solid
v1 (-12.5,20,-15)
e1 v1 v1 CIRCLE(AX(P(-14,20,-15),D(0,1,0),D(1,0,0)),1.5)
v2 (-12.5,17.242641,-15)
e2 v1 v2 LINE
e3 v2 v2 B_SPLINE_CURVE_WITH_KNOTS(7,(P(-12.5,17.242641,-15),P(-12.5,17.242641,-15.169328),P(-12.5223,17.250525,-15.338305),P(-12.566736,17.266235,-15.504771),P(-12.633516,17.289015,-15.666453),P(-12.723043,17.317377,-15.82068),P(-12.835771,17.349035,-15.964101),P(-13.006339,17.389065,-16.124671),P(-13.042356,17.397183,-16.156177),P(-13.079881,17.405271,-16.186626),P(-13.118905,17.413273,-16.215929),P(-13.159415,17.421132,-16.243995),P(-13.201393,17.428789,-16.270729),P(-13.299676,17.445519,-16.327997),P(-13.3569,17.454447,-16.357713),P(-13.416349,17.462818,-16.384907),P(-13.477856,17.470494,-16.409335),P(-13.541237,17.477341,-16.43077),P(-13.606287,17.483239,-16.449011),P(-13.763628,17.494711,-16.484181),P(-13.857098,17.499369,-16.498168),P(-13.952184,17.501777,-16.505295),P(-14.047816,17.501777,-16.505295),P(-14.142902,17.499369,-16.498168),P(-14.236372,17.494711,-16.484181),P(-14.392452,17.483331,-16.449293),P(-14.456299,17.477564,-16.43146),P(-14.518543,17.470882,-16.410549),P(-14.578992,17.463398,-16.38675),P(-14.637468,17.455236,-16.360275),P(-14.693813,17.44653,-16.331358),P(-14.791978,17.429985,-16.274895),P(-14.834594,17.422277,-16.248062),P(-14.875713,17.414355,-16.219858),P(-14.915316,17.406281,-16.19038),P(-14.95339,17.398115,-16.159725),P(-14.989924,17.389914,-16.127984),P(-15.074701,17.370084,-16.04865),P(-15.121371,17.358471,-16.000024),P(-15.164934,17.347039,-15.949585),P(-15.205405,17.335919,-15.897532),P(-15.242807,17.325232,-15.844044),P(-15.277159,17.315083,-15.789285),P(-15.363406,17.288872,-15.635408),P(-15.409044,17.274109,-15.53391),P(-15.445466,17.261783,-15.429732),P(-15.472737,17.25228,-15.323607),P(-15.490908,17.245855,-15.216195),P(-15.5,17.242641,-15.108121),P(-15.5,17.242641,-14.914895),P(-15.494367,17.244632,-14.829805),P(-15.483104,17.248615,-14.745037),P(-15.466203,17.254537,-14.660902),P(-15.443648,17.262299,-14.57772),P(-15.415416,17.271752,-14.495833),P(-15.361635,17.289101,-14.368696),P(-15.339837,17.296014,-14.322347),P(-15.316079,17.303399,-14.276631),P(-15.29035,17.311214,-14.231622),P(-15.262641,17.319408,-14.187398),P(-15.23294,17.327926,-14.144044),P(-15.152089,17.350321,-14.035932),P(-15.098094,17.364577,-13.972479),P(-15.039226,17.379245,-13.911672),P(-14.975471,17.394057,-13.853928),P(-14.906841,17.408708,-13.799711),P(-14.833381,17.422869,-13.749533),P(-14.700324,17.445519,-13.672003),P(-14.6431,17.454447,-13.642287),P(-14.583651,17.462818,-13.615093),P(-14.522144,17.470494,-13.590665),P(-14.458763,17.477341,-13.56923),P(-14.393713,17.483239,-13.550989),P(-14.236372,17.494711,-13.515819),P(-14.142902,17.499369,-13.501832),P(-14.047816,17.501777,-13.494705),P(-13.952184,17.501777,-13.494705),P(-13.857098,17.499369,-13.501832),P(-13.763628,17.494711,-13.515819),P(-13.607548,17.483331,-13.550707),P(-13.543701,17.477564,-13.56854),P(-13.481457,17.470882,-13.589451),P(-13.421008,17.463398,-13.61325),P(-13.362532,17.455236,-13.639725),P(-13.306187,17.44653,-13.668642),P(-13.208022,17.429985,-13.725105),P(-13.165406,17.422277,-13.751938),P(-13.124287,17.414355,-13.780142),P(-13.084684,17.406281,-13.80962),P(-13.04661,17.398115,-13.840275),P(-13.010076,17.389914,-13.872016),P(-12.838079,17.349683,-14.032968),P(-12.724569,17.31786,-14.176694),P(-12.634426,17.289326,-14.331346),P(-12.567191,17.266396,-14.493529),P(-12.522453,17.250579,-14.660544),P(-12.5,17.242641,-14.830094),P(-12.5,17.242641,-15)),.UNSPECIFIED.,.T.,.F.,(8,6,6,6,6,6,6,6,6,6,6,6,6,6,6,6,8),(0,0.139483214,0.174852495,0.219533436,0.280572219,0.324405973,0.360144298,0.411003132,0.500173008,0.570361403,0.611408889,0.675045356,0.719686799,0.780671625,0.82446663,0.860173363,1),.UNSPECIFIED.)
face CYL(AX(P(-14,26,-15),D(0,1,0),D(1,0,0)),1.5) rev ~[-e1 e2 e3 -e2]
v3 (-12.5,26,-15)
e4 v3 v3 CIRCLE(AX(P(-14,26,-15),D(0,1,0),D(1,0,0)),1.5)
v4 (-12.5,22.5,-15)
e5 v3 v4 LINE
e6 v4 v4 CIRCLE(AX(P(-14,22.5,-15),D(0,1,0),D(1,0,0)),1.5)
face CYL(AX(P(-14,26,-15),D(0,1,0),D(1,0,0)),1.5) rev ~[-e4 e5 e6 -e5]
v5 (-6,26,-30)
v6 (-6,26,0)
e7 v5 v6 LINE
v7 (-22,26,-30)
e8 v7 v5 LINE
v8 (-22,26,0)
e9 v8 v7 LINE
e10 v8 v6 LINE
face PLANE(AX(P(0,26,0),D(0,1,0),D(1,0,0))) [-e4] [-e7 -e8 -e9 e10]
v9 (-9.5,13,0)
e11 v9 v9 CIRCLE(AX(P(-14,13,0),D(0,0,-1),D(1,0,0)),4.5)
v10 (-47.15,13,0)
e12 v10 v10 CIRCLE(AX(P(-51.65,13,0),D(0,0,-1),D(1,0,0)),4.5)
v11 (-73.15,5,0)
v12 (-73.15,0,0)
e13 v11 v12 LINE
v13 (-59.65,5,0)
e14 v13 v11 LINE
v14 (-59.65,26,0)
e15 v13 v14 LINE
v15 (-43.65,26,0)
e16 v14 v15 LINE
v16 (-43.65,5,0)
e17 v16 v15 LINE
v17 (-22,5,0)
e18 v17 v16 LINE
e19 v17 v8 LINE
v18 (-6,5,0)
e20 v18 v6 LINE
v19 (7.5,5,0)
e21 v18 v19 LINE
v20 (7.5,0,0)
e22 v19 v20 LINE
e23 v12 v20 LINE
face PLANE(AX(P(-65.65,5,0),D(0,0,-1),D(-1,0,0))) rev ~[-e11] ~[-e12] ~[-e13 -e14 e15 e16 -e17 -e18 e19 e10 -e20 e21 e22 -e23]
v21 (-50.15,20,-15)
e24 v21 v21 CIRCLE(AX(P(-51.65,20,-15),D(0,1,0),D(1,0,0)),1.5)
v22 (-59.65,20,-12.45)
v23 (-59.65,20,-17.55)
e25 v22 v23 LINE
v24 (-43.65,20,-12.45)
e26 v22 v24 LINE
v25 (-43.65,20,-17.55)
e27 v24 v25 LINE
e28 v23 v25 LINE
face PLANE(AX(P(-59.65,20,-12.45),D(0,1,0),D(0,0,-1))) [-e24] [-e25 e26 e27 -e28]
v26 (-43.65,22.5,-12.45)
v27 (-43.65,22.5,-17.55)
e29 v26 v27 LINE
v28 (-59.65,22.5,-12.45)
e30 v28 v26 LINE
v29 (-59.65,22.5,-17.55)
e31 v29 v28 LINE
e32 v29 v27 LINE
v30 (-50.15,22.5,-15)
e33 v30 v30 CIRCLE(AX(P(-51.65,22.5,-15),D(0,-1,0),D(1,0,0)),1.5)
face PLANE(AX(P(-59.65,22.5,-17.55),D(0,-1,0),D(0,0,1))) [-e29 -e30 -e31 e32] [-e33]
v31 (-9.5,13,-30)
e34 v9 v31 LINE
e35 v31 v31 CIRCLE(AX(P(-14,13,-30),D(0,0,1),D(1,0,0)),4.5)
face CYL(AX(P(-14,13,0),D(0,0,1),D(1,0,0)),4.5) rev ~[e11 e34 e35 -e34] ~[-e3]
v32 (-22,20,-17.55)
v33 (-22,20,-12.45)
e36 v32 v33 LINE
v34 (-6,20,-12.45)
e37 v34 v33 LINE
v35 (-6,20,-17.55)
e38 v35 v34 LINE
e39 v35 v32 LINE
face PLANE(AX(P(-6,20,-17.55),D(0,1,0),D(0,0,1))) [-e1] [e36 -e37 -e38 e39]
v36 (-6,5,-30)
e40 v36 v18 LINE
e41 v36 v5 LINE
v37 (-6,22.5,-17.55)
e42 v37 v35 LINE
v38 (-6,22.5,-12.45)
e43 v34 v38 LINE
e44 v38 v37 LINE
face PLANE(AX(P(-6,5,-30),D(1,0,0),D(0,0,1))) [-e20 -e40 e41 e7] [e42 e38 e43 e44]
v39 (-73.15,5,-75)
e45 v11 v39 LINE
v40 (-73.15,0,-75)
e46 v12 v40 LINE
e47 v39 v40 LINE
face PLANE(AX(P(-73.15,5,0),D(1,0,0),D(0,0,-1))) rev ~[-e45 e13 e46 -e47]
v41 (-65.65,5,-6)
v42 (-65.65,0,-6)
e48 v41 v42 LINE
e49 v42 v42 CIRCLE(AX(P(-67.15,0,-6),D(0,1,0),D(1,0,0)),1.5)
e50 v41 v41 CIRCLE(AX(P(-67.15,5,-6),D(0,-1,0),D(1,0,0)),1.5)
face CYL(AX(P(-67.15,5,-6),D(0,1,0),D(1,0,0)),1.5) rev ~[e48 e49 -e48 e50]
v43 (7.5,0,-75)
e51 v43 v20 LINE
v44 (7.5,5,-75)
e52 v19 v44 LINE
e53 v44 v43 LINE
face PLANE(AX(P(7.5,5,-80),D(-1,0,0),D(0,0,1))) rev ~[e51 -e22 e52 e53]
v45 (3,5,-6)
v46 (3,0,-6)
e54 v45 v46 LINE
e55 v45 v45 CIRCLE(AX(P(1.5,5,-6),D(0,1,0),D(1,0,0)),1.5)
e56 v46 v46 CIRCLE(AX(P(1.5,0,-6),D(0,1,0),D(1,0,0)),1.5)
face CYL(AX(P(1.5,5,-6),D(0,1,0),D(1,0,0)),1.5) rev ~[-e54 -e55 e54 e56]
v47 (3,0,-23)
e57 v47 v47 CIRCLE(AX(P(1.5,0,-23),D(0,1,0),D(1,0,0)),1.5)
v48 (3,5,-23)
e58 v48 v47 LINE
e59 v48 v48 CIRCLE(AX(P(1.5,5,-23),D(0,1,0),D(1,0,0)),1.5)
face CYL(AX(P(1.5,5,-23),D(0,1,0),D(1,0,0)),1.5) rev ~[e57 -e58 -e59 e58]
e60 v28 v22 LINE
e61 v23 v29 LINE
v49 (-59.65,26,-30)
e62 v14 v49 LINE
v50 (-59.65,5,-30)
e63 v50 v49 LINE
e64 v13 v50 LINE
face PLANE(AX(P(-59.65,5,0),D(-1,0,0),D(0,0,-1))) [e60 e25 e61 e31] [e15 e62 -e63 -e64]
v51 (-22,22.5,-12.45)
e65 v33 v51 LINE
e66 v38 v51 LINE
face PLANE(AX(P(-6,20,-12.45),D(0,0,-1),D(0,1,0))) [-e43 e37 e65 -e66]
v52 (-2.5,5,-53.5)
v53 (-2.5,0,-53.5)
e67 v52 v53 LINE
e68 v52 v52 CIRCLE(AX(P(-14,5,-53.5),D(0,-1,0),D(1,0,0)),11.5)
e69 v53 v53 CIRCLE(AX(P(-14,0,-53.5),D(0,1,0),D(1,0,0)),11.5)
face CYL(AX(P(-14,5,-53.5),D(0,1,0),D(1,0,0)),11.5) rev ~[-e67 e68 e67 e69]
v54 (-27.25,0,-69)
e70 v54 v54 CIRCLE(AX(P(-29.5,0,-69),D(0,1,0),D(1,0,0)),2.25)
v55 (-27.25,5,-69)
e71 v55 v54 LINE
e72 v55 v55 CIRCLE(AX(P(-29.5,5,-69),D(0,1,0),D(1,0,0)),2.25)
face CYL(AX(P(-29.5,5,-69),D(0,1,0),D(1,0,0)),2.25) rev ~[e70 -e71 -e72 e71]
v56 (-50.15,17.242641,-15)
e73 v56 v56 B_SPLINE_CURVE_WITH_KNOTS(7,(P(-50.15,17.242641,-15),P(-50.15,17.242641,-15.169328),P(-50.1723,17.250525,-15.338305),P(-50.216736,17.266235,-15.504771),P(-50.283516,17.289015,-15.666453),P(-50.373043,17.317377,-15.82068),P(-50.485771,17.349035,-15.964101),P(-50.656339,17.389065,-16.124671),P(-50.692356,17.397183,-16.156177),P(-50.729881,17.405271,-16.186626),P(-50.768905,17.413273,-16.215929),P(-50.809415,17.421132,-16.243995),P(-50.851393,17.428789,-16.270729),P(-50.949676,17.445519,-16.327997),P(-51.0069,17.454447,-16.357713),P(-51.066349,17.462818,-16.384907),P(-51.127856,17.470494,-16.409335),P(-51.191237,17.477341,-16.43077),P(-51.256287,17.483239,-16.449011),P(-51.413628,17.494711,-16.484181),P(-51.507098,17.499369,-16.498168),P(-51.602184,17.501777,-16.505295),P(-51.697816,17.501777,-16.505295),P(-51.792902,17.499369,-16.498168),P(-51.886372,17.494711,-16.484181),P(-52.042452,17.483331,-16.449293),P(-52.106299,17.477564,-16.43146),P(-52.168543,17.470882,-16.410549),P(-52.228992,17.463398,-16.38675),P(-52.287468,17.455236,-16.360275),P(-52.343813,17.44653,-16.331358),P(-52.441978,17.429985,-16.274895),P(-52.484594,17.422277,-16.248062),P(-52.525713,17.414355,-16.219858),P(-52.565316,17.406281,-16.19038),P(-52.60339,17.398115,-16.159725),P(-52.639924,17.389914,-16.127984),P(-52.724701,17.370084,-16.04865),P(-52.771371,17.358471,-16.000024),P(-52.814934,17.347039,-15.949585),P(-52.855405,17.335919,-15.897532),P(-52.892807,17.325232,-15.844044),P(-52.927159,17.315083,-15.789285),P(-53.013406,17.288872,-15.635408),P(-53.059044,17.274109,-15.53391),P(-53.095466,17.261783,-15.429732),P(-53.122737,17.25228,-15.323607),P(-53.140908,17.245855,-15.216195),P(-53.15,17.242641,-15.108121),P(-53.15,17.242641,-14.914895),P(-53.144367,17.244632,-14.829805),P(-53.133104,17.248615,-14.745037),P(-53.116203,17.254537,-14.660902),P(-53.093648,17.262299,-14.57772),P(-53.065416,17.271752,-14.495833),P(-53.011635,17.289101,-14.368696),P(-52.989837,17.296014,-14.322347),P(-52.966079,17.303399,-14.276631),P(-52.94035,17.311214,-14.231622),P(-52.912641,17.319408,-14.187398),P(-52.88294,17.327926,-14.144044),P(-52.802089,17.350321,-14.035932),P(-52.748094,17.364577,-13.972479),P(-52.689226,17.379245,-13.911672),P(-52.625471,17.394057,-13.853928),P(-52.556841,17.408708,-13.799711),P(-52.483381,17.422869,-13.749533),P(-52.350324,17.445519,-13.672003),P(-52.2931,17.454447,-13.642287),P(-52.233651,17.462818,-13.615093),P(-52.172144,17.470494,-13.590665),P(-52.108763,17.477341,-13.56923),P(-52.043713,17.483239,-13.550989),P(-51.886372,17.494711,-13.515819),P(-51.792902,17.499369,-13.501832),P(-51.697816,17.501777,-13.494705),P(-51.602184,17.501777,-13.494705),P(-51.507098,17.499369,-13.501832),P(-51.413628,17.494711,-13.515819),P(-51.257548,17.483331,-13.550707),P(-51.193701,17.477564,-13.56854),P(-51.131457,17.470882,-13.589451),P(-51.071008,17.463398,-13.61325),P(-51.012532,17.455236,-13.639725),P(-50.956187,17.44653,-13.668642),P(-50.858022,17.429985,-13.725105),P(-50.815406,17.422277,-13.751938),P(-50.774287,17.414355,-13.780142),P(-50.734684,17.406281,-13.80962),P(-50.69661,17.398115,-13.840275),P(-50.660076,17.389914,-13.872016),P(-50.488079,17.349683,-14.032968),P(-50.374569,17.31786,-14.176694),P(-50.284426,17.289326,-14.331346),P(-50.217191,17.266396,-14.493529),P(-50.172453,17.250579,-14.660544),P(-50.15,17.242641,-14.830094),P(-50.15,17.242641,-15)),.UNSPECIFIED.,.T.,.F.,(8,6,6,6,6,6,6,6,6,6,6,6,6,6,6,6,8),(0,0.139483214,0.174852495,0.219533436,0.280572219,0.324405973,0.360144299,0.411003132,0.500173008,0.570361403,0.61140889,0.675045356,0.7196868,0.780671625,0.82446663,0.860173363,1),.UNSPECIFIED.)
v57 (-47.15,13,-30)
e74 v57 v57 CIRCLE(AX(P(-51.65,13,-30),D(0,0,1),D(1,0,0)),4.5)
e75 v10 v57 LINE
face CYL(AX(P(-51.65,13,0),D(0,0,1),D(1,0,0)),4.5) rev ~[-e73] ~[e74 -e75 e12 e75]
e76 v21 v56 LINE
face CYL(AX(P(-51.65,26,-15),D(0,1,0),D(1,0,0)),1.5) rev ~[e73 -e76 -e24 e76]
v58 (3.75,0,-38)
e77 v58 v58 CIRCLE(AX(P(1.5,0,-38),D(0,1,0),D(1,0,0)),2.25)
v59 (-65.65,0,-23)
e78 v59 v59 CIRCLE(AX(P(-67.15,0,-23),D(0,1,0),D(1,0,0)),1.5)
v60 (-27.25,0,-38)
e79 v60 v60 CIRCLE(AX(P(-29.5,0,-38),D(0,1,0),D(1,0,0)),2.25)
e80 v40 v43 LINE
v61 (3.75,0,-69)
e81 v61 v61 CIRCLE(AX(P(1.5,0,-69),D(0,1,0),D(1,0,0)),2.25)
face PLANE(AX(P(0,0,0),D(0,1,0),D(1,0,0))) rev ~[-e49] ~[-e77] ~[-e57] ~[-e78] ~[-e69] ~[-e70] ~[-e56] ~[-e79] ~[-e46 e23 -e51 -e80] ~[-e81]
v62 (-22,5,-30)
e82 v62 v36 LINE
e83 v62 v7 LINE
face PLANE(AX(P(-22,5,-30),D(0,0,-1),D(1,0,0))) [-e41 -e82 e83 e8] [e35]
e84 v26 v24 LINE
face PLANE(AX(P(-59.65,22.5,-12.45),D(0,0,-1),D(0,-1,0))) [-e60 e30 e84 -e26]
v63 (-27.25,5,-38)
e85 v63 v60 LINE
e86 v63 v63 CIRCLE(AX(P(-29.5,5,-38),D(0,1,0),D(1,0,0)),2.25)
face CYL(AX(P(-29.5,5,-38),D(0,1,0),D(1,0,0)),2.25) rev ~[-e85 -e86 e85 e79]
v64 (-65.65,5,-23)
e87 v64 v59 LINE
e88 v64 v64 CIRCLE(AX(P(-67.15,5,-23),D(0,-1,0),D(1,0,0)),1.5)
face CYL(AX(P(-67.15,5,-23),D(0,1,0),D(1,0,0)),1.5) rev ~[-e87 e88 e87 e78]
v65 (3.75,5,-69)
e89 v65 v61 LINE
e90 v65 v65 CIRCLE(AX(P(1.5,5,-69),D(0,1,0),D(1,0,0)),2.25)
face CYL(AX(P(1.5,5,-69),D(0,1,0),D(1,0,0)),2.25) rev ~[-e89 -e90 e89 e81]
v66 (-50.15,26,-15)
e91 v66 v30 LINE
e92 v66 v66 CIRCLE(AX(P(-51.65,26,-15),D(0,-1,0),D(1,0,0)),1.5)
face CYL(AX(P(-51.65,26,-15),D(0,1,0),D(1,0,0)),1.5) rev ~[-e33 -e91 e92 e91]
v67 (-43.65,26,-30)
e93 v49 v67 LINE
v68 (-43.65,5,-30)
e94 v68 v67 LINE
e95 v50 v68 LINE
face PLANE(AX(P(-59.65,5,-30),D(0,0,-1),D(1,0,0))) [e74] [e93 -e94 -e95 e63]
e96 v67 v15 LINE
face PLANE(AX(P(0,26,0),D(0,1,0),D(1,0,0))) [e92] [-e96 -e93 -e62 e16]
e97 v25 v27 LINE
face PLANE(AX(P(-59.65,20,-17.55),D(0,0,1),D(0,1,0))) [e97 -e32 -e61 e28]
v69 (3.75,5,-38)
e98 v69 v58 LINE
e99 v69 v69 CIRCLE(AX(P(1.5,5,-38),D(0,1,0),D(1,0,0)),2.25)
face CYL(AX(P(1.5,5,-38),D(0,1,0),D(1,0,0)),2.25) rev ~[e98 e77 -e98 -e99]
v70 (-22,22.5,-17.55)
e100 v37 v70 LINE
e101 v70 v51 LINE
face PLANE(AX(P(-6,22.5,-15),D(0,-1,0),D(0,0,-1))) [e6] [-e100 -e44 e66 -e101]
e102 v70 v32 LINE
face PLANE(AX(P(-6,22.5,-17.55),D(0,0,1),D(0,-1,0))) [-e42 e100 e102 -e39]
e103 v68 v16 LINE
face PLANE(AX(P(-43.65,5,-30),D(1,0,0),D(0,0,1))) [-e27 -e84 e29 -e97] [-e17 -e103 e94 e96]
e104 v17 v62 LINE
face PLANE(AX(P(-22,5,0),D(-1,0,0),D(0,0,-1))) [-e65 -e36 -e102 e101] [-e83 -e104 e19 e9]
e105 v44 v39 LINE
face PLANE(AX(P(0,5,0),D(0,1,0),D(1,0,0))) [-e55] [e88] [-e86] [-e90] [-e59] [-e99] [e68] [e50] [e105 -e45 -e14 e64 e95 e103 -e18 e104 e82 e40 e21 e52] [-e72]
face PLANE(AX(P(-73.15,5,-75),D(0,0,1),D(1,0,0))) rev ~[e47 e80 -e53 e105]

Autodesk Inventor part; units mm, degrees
ref_plane "YZ Plane" through (0, 0, 0) normal (1, 0, 0) x (0, 1, 0)
ref_plane "XZ Plane" through (0, 0, 0) normal (0, 1, 0) x (-1, 0, 0)
ref_plane "XY Plane" through (0, 0, 0) normal (0, 0, 1) x (1, 0, 0)
sketch "Skizze1" plane through (0, 0, 0) normal (0, 1, 0) x (-1, 0, 0)
  line L0 (0, 0) -> (65.65, 0)
  line L1 (65.65, 0) -> (65.65, -80)
  line L2 (65.65, -80) -> (0, -80)
  line L3 (0, -80) -> (0, 0)
  dimension "d0" = 65.65
  dimension "d1" = 80
extrude "Extrusion1" add sketch "Skizze1" along normal blind 5
sketch "Skizze2" plane through (0, 5, 0) normal (0, 1, 0) x (1, 0, 0)
  line L0 (-65.65, 80) -> (-65.65, 0) projected
  line L1 (-65.65, 0) -> (0, 0) projected
  line L2 (-65.65, 0) -> (-59.65, 0) construction
  line L3 (-59.65, 0) -> (-59.65, 30)
  line L4 (-59.65, 30) -> (-43.65, 30)
  line L5 (-43.65, 30) -> (-43.65, 0)
  line L6 (-43.65, 0) -> (-59.65, 0)
  line L7 (-22, 0) -> (-22, 30)
  line L8 (-22, 30) -> (-6, 30)
  line L9 (-6, 30) -> (-6, 0)
  line L10 (-6, 0) -> (-22, 0)
  dimension "d4" = 6
  dimension "d6" = 30
  dimension "d7" = 16
  dimension "d8" = 90
  dimension "d9" = 16
  dimension "d10" = 21.65
  dimension "d11" = 30
  dimension "d12" = 16
  dimension "d13" = 90
  dimension "d14" = 30
  dimension "d15" = 90
extrude "Extrusion2" add sketch "Skizze2" along normal blind 21 contours L3 L4 L5 L1
sketch "Skizze3" plane through (0, 5, 0) normal (0, 1, 0) x (1, 0, 0)
  line L0 (-43.65, 0) -> (0, 0) projected
  line L1 (-43.65, 0) -> (-22, 0)
  line L2 (-22, 0) -> (-22, 30)
  line L3 (-22, 30) -> (-6, 30)
  line L4 (-6, 30) -> (-6, 0)
  line L5 (-6, 0) -> (-22, 0)
  dimension "d18" = 21.65
  dimension "d19" = 30
  dimension "d21" = 16
  dimension "d22" = 16
extrude "Extrusion3" add sketch "Skizze3" along normal blind 21
sketch "Skizze4" plane through (0, 5, 0) normal (0, 1, 0) x (1, 0, 0)
  line L0 (-65.65, 0) -> (0, 0) projected
  line L1 (-5.9719, 0) -> (14.5281, 0)
  line L2 (14.5281, 0) -> (14.5281, 80)
  line L3 (0, 0) -> (0, 80) projected
  line L4 (14.5281, 80) -> (0, 80)
  line L5 (0, 80) -> (0, 0)
  dimension "d25" = 20.5
  dimension "d26" = 80
  dimension "d27" = 90
extrude "Extrusion4" add sketch "Skizze4" against normal blind 5
sketch "Skizze5" plane through (0, 5, 0) normal (0, 1, 0) x (1, 0, 0)
  line L0 (-22, 30) -> (-6, 30) projected
  line L1 (-22, 30) -> (-14, 30)
  line L2 (-14, 30) -> (-14, 38)
  line L3 (-14, 38) -> (-29.5, 38)
  circle A0 centre (-29.5, 38) radius 1
  point P0 (0, 0)
  dimension "d30" = 8
  dimension "d31" = 8
  dimension "d32" = 15.5
  dimension "d33" = 2
extrude "Extrusion5" cut sketch "Skizze5" against normal blind 5
sketch "Skizze6" plane through (0, 5, 0) normal (0, 1, 0) x (1, 0, 0)
  circle A0 centre (-29.5, 38) radius 1 projected
  line L0 (-29.5, 38) -> (1.5, 38)
  line L1 (-29.5, 38) -> (1.5, 38) construction
  circle A1 centre (1.5, 38) radius 1
  point P0 (0, 0)
  dimension "d36" = 31
  dimension "d37" = 0
  dimension "d38" = 2
extrude "Extrusion6" cut sketch "Skizze6" against normal blind 5 contours A1
sketch "Skizze7" plane through (0, 5, 0) normal (0, 1, 0) x (1, 0, 0)
  circle A0 centre (1.5, 38) radius 1 projected
  line L0 (1.5, 38) -> (1.5, 69)
  circle A1 centre (1.5, 69) radius 1
  point P0 (0, 0)
  dimension "d41" = 31
  dimension "d42" = 2
extrude "Extrusion7" cut sketch "Skizze7" against normal blind 5 contours A1
sketch "Skizze8" plane through (0, 5, 0) normal (0, 1, 0) x (1, 0, 0)
  circle A0 centre (-29.5, 38) radius 1 projected
  line L0 (-29.5, 38) -> (-29.5, 69)
  circle A1 centre (-29.5, 69) radius 1
  point P0 (0, 0)
  dimension "d45" = 31
  dimension "d46" = 2
extrude "Extrusion8" cut sketch "Skizze8" against normal blind 5 contours A1
sketch "Skizze9" plane through (0, 5, 0) normal (0, 1, 0) x (1, 0, 0)
  circle A0 centre (1.5, 38) radius 1 projected
  line L0 (1.5, 38) -> (7.5, 38)
  line L1 (14.5281, 80) -> (-65.65, 80) projected
  line L2 (-65.65, 0) -> (14.5281, 0) projected
  line L3 (14.5281, 0) -> (14.5281, 80) projected
  line L4 (7.5, 38) -> (14.5281, 38)
  line L5 (14.5281, 38) -> (14.5281, 80)
  line L6 (14.5281, 80) -> (7.5, 80)
  line L7 (7.5, 80) -> (7.5, 38)
  point P0 (0, 0)
  dimension "d49" = 6
extrude "Extrusion9" cut sketch "Skizze9" against normal blind 5 contours L7 L1 L3 L4
sketch "Skizze10" plane through (0, 5, 0) normal (0, 1, 0) x (1, 0, 0)
  line L0 (7.5, 38) -> (7.5, 80) projected
  line L1 (14.5281, 0) -> (14.5281, 38) projected
  line L2 (7.5, 38) -> (14.5281, 38)
  line L3 (14.5281, 38) -> (14.5281, 0)
  line L4 (14.5281, 0) -> (7.5, 0)
  line L5 (7.5, 0) -> (7.5, 38)
  point P0 (0, 0)
extrude "Extrusion10" cut sketch "Skizze10" against normal blind 5
sketch "Skizze11" plane through (0, 5, 0) normal (0, 1, 0) x (1, 0, 0)
  circle A0 centre (1.5, 69) radius 1 projected
  line L0 (1.5, 69) -> (1.5, 75)
  line L1 (1.5, 75) -> (7.5, 75)
  line L2 (7.5, 0) -> (7.5, 80) projected
  line L3 (7.5, 80) -> (1.5, 80)
  line L4 (7.5, 80) -> (-65.65, 80) projected
  line L5 (1.5, 75) -> (1.5, 80)
  point P0 (0, 0)
  dimension "d54" = 6
extrude "Extrusion11" cut sketch "Skizze11" against normal blind 5 contours L5 L3 L2 L1
sketch "Skizze12" plane through (0, 5, 0) normal (0, 1, 0) x (1, 0, 0)
  line L0 (1.5, 80) -> (-65.65, 80) projected
  line L1 (1.5, 75) -> (-65.65, 75)
  line L2 (-65.65, 75) -> (-65.65, 80)
  line L3 (-65.65, 80) -> (1.5, 80)
  line L4 (1.5, 80) -> (1.5, 75)
  point P0 (0, 0)
extrude "Extrusion12" cut sketch "Skizze12" against normal blind 5
sketch "Skizze13" plane through (0, 5, 0) normal (0, 1, 0) x (1, 0, 0)
  circle A0 centre (1.5, 38) radius 1 projected
  line L0 (1.5, 38) -> (1.5, 23)
  circle A1 centre (1.5, 23) radius 1
  point P0 (0, 0)
  dimension "d59" = 15
  dimension "d60" = 2
extrude "Extrusion13" cut sketch "Skizze13" against normal blind 5 contours A1
sketch "Skizze14" plane through (0, 5, 0) normal (0, 1, 0) x (1, 0, 0)
  circle A0 centre (1.5, 23) radius 1 projected
  line L0 (-65.65, 0) -> (7.5, 0) projected
  line L1 (-6, 30) -> (-6, 0) projected
  line L2 (1.5, 0) -> (-6, 0)
  line L3 (1.5, 0) -> (1.5, 6)
  circle A1 centre (1.5, 6) radius 1
  point P0 (0, 0)
  dimension "d63" = 6
  dimension "d64" = 2
extrude "Extrusion14" cut sketch "Skizze14" against normal blind 5 contours A1
sketch "Skizze15" plane through (0, 5, 0) normal (0, 1, 0) x (1, 0, 0)
  line L0 (-65.65, 0) -> (7.5, 0) projected
  line L1 (-65.65, 0) -> (-62.65, 0)
  line L2 (-62.65, 0) -> (-62.65, 6)
  circle A0 centre (-62.65, 6) radius 1
  point P0 (0, 0)
  dimension "d67" = 3
  dimension "d68" = 6
  dimension "d69" = 2
extrude "Extrusion15" cut sketch "Skizze15" against normal blind 5
sketch "Skizze16" plane through (0, 5, 0) normal (0, 1, 0) x (1, 0, 0)
  circle A0 centre (-62.65, 6) radius 1 projected
  line L0 (-62.65, 6) -> (-62.65, 23)
  circle A1 centre (-62.65, 23) radius 1
  point P0 (0, 0)
  dimension "d72" = 17
  dimension "d73" = 2
extrude "Extrusion16" cut sketch "Skizze16" against normal blind 5 contours A1
sketch "Skizze17" plane through (-65.65, 0, 0) normal (0, 0, 1) x (1, 0, 0)
  line L0 (6, 26) -> (22, 26) projected
  line L1 (6, 26) -> (14, 26)
  line L2 (14, 26) -> (14, 13)
  circle A0 centre (14, 13) radius 4.5
  point P0 (65.65, 0)
  dimension "d76" = 8
  dimension "d77" = 13
  dimension "d78" = 9
extrude "Extrusion17" cut sketch "Skizze17" against normal blind 30
sketch "Skizze18" plane through (-65.65, 0, 0) normal (0, 0, 1) x (1, 0, 0)
  line L0 (43.65, 5) -> (43.65, 26) projected
  line L1 (43.65, 26) -> (51.65, 26)
  line L2 (51.65, 26) -> (51.65, 13)
  circle A0 centre (51.65, 13) radius 4.5
  point P0 (65.65, 0)
  dimension "d81" = 8
  dimension "d82" = 13
  dimension "d83" = 9
extrude "Extrusion18" cut sketch "Skizze18" against normal blind 30
sketch "Skizze19" plane through (-59.65, 5, -30) normal (-1, 0, 0) x (0, 0, 1)
  line L0 (0, 0) -> (0, 21) projected
  line L1 (0, 21) -> (15, 21)
  line L2 (0, 21) -> (30, 21) projected
  line L3 (15, 21) -> (15, 17)
  line L4 (15, 17) -> (17.75, 17)
  line L5 (17.75, 17) -> (12.25, 17)
  line L6 (12.25, 17) -> (12.25, 15.75)
  line L7 (12.25, 15.75) -> (17.75, 15.75)
  line L8 (17.75, 15.75) -> (17.75, 17)
  point P0 (30, -5)
  dimension "d86" = 15
  dimension "d87" = 4
  dimension "d88" = 2.75
  dimension "d89" = 5.5
  dimension "d90" = 1.25
extrude "Extrusion19" cut sketch "Skizze19" against normal blind 16
sketch "Skizze20" plane through (0, 5, 0) normal (0, 1, 0) x (1, 0, 0)
  circle A0 centre (1.5, 23) radius 1 projected
  circle A1 centre (1.5, 23) radius 1.5
  point P0 (0, 0)
  dimension "d93" = 3
extrude "Extrusion20" cut sketch "Skizze20" against normal blind 5 contours A0 | A1
sketch "Skizze21" plane through (0, 5, 0) normal (0, 1, 0) x (1, 0, 0)
  circle A0 centre (1.5, 6) radius 1 projected
  circle A1 centre (1.5, 6) radius 1.5
  point P0 (0, 0)
  dimension "d96" = 3
extrude "Extrusion21" cut sketch "Skizze21" against normal blind 5 contours A0 | A1
sketch "Skizze22" plane through (0, 5, 0) normal (0, 1, 0) x (1, 0, 0)
  circle A0 centre (-62.65, 23) radius 1 projected
  circle A1 centre (-62.65, 23) radius 1.5
  point P0 (0, 0)
  dimension "d99" = 3
extrude "Extrusion22" cut sketch "Skizze22" against normal blind 5 contours A0 | A1
sketch "Skizze23" plane through (0, 5, 0) normal (0, 1, 0) x (1, 0, 0)
  circle A0 centre (-62.65, 6) radius 1 projected
  circle A1 centre (-62.65, 6) radius 1.5
  point P0 (0, 0)
  dimension "d102" = 3
extrude "Extrusion23" cut sketch "Skizze23" against normal blind 5 contours A0 | A1
sketch "Skizze24" plane through (0, 5, 0) normal (0, 1, 0) x (1, 0, 0)
  circle A0 centre (1.5, 69) radius 1 projected
  circle A1 centre (1.5, 69) radius 2.25
  point P0 (0, 0)
  dimension "d105" = 4.5
extrude "Extrusion24" cut sketch "Skizze24" against normal blind 5 contours A0 | A1
sketch "Skizze25" plane through (0, 5, 0) normal (0, 1, 0) x (1, 0, 0)
  circle A0 centre (-29.5, 69) radius 1 projected
  circle A1 centre (-29.5, 69) radius 2.25
  point P0 (0, 0)
  dimension "d108" = 4.5
extrude "Extrusion25" cut sketch "Skizze25" against normal blind 5 contours A0 | A1
sketch "Skizze26" plane through (0, 5, 0) normal (0, 1, 0) x (1, 0, 0)
  circle A0 centre (1.5, 38) radius 1 projected
  circle A1 centre (1.5, 38) radius 2.25
  point P0 (0, 0)
  dimension "d112" = 4.5
extrude "Extrusion26" cut sketch "Skizze26" against normal blind 5 contours A0 | A1
sketch "Skizze27" plane through (0, 5, 0) normal (0, 1, 0) x (1, 0, 0)
  circle A0 centre (-29.5, 38) radius 1 projected
  circle A1 centre (-29.5, 38) radius 2.25
  point P0 (0, 0)
  dimension "d115" = 4.5
extrude "Extrusion27" cut sketch "Skizze27" against normal blind 5 contours A0 | A1
sketch "Skizze28" plane through (0, 26, 0) normal (0, 1, 0) x (1, 0, 0)
  line L0 (-43.65, 30) -> (-43.65, 0) projected
  line L1 (-59.65, 0) -> (-59.65, 30) projected
  line L2 (-43.65, 0) -> (-59.65, 30)
  line L3 (-59.65, 30) -> (-43.65, 30) projected
  line L4 (-43.65, 30) -> (-59.65, 0)
  circle A0 centre (-51.65, 15) radius 1.5
  point P0 (0, 0)
  dimension "d118" = 3
extrude "Extrusion28" cut sketch "Skizze28" against normal blind 13 contours A0 L2 L4 | L4 L2 A0 | A0 L4 L2 | L2 L4 A0
sketch "Skizze29" plane through (-6, 5, 0) normal (1, 0, 0) x (0, 0, -1)
  line L0 (0, 21) -> (15, 21)
  line L1 (0, 21) -> (30, 21) projected
  line L2 (15, 21) -> (11, 21)
  line L3 (15, 21) -> (15, 17)
  line L4 (15, 21) -> (19, 21) construction
  line L5 (15, 17) -> (17.27, 17)
  line L6 (12.25, 17) -> (17.75, 17) projected
  line L7 (17.27, 17) -> (11.77, 17)
  line L8 (11.77, 17) -> (11.77, 15.75)
  line L9 (11.77, 15.75) -> (17.27, 15.75)
  line L10 (17.27, 15.75) -> (17.27, 17)
  point P0 (0, -5)
  dimension "d123" = 15
  dimension "d124" = 4
  dimension "d125" = 4
  dimension "d126" = 90
  dimension "d127" = 2.27
  dimension "d128" = 5.5
  dimension "d129" = 1.25
extrude "Extrusion29" cut sketch "Skizze29" against normal blind 16
sketch "Skizze30" plane through (0, 26, 0) normal (0, 1, 0) x (1, 0, 0)
  line L0 (-22, 30) -> (-22, 0) projected
  line L1 (-6, 0) -> (-6, 30) projected
  line L2 (-22, 0) -> (-6, 30)
  line L3 (-22, 30) -> (-6, 0)
  circle A0 centre (-14, 15) radius 1.5
  point P0 (0, 0)
  dimension "d132" = 3
extrude "Extrusion30" cut sketch "Skizze30" against normal blind 13 contours A0 L2 L3 | L3 L2 A0 | L2 L3 A0 | L2 A0 L3
sketch "Skizze31" plane through (0, 5, 0) normal (0, 1, 0) x (1, 0, 0)
  circle A0 centre (-29.5, 38) radius 2.25 projected
  circle A1 centre (1.5, 69) radius 2.25 projected
  line L0 (-29.5, 38) -> (1.5, 69)
  circle A2 centre (-29.5, 69) radius 2.25 projected
  circle A3 centre (1.5, 38) radius 2.25 projected
  line L1 (-29.5, 69) -> (1.5, 38)
  circle A4 centre (-14, 53.5) radius 11.5
  point P0 (0, 0)
  dimension "d137" = 23
extrude "Extrusion31" cut sketch "Skizze31" against normal blind 5 contours A4 L1 L0 | L0 L1 A4 | L1 A4 L0 | L0 A4 L1
sketch "Skizze32" plane through (0, 5, 0) normal (0, 1, 0) x (1, 0, 0)
  point P0 (0, 0)
sketch "Skizze33" plane through (0, 5, 0) normal (0, 1, 0) x (1, 0, 0)
  circle A0 centre (-62.65, 6) radius 1.5 projected
  circle A1 centre (-62.65, 6) radius 1.5
  point P0 (0, 0)
  dimension "d140" = 3
extrude "Extrusion32" add sketch "Skizze33" against normal blind 5
sketch "Skizze34" plane through (0, 5, 0) normal (0, 1, 0) x (1, 0, 0)
  circle A0 centre (-62.65, 23) radius 1.5 projected
  circle A1 centre (-62.65, 23) radius 1.5
  point P0 (0, 0)
  dimension "d143" = 3
extrude "Extrusion33" add sketch "Skizze34" against normal blind 5
sketch "Skizze35" plane through (0, 5, 0) normal (0, 1, 0) x (1, 0, 0)
  line L0 (-59.65, 0) -> (-59.65, 30) projected
  line L1 (-59.65, 0) -> (-73.15, 0)
  line L2 (-65.65, 0) -> (-59.65, 0) projected
  line L3 (-65.65, 0) -> (7.5, 0) projected
  line L4 (-65.65, 0) -> (-73.15, 0)
  line L5 (-73.15, 0) -> (-73.15, 75)
  line L6 (-73.15, 75) -> (-65.65, 75)
  line L7 (-65.65, 75) -> (-65.65, 0)
  point P0 (0, 0)
  dimension "d146" = 13.5
  dimension "d147" = 75
extrude "Extrusion34" add sketch "Skizze35" against normal blind 5
sketch "Skizze36" plane through (0, 5, 0) normal (0, 1, 0) x (1, 0, 0)
  line L0 (-73.15, 0) -> (-73.15, 75) projected
  line L1 (-73.15, 0) -> (-67.15, 0)
  line L2 (-67.15, 0) -> (-67.15, 6)
  line L3 (-67.15, 6) -> (-73.15, 6)
  line L4 (-73.15, 6) -> (-73.15, 0)
  circle A0 centre (-67.15, 6) radius 1.5
  point P0 (0, 0)
  dimension "d150" = 6
  dimension "d151" = 6
  dimension "d152" = 3
extrude "Extrusion35" cut sketch "Skizze36" against normal blind 5 contours A0 L2 L3 | L3 L2 A0
sketch "Skizze37" plane through (0, 5, 0) normal (0, 1, 0) x (1, 0, 0)
  circle A0 centre (-67.15, 6) radius 1.5 projected
  line L0 (-67.15, 6) -> (-67.15, 23)
  circle A1 centre (-67.15, 23) radius 1.5
  point P0 (0, 0)
  dimension "d155" = 17
  dimension "d156" = 3
extrude "Extrusion36" cut sketch "Skizze37" against normal blind 5 contours A1
sketch "Skizze38" plane through (-6, 5, 0) normal (1, 0, 0) x (0, 0, -1)
  line L0 (17.27, 17) -> (11.77, 17) projected
  line L1 (11.77, 17) -> (11.77, 17.625)
  line L2 (11.77, 17.625) -> (17.27, 17.625)
  line L3 (17.27, 17.625) -> (17.27, 17)
  line L4 (12.25, 17) -> (17.75, 17) projected
  point P0 (0, -5)
  dimension "d159" = 0.625
  dimension "d160" = 5.5
  dimension "d161" = 90
extrude "Extrusion37" cut sketch "Skizze38" against normal blind 16
sketch "Skizze39" plane through (-6, 5, 0) normal (1, 0, 0) x (0, 0, -1)
  line L0 (17.27, 15.75) -> (11.77, 15.75) projected
  line L1 (11.77, 15.75) -> (17.27, 15.75)
  line L2 (17.27, 15.75) -> (17.27, 15.125)
  line L3 (17.27, 15.125) -> (11.77, 15.125)
  line L4 (11.77, 15.125) -> (11.77, 15.75)
  point P0 (0, -5)
  dimension "d164" = 5.5
  dimension "d165" = 0.625
extrude "Extrusion38" cut sketch "Skizze39" against normal blind 16
sketch "Skizze40" plane through (-59.65, 5, -30) normal (-1, 0, 0) x (0, 0, 1)
  line L0 (12.73, 17.625) -> (18.23, 17.625) projected
  line L1 (12.25, 17) -> (17.75, 17)
  line L2 (17.75, 17) -> (17.75, 17.625)
  line L3 (17.75, 17.625) -> (12.25, 17.625)
  line L4 (12.25, 17.625) -> (12.25, 17)
  point P0 (30, -5)
  dimension "d168" = 5.5
extrude "Extrusion39" cut sketch "Skizze40" against normal blind 16
sketch "Skizze41" plane through (-59.65, 5, -30) normal (-1, 0, 0) x (0, 0, 1)
  line L0 (12.25, 15.75) -> (17.75, 15.75) projected
  line L1 (12.25, 15.75) -> (17.75, 15.75)
  line L2 (17.75, 15.75) -> (17.75, 15.125)
  line L3 (17.75, 15.125) -> (12.25, 15.125)
  line L4 (12.25, 15.125) -> (12.25, 15.75)
  point P0 (30, -5)
  dimension "d171" = 5.5
  dimension "d172" = 0.625
extrude "Extrusion40" cut sketch "Skizze41" against normal blind 16
sketch "Skizze42" plane through (-6, 5, 0) normal (1, 0, 0) x (0, 0, -1)
  line L0 (11.77, 17.625) -> (11.77, 15.125) projected
  line L1 (17.75, 15.125) -> (12.25, 15.125) projected
  line L2 (11.77, 17.625) -> (17.27, 17.625)
  line L3 (17.27, 17.625) -> (17.27, 15.125)
  line L4 (17.27, 15.125) -> (11.77, 15.125)
  line L5 (11.77, 15.125) -> (11.77, 17.625)
  point P0 (0, -5)
  dimension "d175" = 5.5
extrude "Extrusion41" add sketch "Skizze42" against normal blind 16
sketch "Skizze43" plane through (0, 26, 0) normal (0, 1, 0) x (1, 0, 0)
  circle A0 centre (-14, 15) radius 1.5 projected
  line L0 (-14, 15) -> (-6, 15)
  line L1 (-6, 0) -> (-6, 30) projected
  point P0 (0, 0)
sketch "Skizze44" plane through (-6, 5, 0) normal (1, 0, 0) x (0, 0, -1)
  line L0 (0, 21) -> (30, 21) projected
  line L1 (15, 21) -> (15, 17.5)
  line L2 (15, 17.5) -> (17.55, 17.5)
  line L3 (17.55, 17.5) -> (17.55, 15)
  line L4 (17.55, 15) -> (12.45, 15)
  line L5 (12.45, 15) -> (12.45, 17.5)
  line L6 (12.45, 17.5) -> (15, 17.5)
  point P0 (0, -5)
  dimension "d178" = 3.5
  dimension "d179" = 2.55
  dimension "d180" = 2.5
  dimension "d181" = 90
  dimension "d182" = 5.1
  dimension "d183" = 2.5
extrude "Extrusion42" cut sketch "Skizze44" against normal blind 16
sketch "Skizze45" plane through (0, 26, 0) normal (0, 1, 0) x (1, 0, 0)
  circle A0 centre (-14, 15) radius 1.5 projected
  circle A1 centre (-14, 15) radius 1.5
  point P0 (0, 0)
  dimension "d186" = 3
extrude "Extrusion43" add sketch "Skizze45" against normal blind 3.6
extrude "Extrusion44" cut sketch "Skizze43" against normal blind 3.6
sketch "Skizze46" plane through (-59.65, 5, -30) normal (-1, 0, 0) x (0, 0, 1)
  line L0 (12.25, 17.625) -> (12.25, 15.125) projected
  line L1 (12.25, 15.125) -> (17.75, 15.125) projected
  line L2 (12.25, 17.625) -> (17.75, 17.625)
  line L3 (17.75, 17.625) -> (17.75, 15.125)
  line L4 (17.75, 15.125) -> (12.25, 15.125)
  line L5 (12.25, 15.125) -> (12.25, 17.625)
  point P0 (30, -5)
extrude "Extrusion45" add sketch "Skizze46" against normal blind 16
sketch "Skizze47" plane through (0, 26, 0) normal (0, 1, 0) x (1, 0, 0)
  circle A0 centre (-51.65, 15) radius 1.5 projected
  line L0 (-51.65, 15) -> (-59.65, 15)
  line L1 (-59.65, 30) -> (-59.65, 0) projected
  point P0 (0, 0)
sketch "Skizze48" plane through (-59.65, 5, -30) normal (-1, 0, 0) x (0, 0, 1)
  line L0 (0, 21) -> (30, 21) projected
  line L1 (15, 21) -> (15, 17.5)
  line L2 (15, 21) -> (18.5, 21) construction
  line L3 (15, 17.5) -> (17.55, 17.5)
  line L4 (17.55, 17.5) -> (17.55, 15)
  line L5 (17.55, 15) -> (12.45, 15)
  line L6 (12.45, 15) -> (12.45, 17.5)
  line L7 (12.45, 17.5) -> (15, 17.5)
  point P0 (30, -5)
  dimension "d193" = 3.5
  dimension "d194" = 90
  dimension "d195" = 2.55
  dimension "d196" = 2.5
  dimension "d197" = 5.1
  dimension "d198" = 2.5
extrude "Extrusion46" cut sketch "Skizze48" against normal blind 16
sketch "Skizze49" plane through (0, 26, 0) normal (0, 1, 0) x (1, 0, 0)
  circle A0 centre (-51.65, 15) radius 1.5 projected
  circle A1 centre (-51.65, 15) radius 1.5
  point P0 (0, 0)
  dimension "d201" = 3
extrude "Extrusion47" add sketch "Skizze49" against normal blind 3.6
extrude "Extrusion48" cut sketch "Skizze47" against normal blind 3.6
properties part number "HalterungMotorNeu"
